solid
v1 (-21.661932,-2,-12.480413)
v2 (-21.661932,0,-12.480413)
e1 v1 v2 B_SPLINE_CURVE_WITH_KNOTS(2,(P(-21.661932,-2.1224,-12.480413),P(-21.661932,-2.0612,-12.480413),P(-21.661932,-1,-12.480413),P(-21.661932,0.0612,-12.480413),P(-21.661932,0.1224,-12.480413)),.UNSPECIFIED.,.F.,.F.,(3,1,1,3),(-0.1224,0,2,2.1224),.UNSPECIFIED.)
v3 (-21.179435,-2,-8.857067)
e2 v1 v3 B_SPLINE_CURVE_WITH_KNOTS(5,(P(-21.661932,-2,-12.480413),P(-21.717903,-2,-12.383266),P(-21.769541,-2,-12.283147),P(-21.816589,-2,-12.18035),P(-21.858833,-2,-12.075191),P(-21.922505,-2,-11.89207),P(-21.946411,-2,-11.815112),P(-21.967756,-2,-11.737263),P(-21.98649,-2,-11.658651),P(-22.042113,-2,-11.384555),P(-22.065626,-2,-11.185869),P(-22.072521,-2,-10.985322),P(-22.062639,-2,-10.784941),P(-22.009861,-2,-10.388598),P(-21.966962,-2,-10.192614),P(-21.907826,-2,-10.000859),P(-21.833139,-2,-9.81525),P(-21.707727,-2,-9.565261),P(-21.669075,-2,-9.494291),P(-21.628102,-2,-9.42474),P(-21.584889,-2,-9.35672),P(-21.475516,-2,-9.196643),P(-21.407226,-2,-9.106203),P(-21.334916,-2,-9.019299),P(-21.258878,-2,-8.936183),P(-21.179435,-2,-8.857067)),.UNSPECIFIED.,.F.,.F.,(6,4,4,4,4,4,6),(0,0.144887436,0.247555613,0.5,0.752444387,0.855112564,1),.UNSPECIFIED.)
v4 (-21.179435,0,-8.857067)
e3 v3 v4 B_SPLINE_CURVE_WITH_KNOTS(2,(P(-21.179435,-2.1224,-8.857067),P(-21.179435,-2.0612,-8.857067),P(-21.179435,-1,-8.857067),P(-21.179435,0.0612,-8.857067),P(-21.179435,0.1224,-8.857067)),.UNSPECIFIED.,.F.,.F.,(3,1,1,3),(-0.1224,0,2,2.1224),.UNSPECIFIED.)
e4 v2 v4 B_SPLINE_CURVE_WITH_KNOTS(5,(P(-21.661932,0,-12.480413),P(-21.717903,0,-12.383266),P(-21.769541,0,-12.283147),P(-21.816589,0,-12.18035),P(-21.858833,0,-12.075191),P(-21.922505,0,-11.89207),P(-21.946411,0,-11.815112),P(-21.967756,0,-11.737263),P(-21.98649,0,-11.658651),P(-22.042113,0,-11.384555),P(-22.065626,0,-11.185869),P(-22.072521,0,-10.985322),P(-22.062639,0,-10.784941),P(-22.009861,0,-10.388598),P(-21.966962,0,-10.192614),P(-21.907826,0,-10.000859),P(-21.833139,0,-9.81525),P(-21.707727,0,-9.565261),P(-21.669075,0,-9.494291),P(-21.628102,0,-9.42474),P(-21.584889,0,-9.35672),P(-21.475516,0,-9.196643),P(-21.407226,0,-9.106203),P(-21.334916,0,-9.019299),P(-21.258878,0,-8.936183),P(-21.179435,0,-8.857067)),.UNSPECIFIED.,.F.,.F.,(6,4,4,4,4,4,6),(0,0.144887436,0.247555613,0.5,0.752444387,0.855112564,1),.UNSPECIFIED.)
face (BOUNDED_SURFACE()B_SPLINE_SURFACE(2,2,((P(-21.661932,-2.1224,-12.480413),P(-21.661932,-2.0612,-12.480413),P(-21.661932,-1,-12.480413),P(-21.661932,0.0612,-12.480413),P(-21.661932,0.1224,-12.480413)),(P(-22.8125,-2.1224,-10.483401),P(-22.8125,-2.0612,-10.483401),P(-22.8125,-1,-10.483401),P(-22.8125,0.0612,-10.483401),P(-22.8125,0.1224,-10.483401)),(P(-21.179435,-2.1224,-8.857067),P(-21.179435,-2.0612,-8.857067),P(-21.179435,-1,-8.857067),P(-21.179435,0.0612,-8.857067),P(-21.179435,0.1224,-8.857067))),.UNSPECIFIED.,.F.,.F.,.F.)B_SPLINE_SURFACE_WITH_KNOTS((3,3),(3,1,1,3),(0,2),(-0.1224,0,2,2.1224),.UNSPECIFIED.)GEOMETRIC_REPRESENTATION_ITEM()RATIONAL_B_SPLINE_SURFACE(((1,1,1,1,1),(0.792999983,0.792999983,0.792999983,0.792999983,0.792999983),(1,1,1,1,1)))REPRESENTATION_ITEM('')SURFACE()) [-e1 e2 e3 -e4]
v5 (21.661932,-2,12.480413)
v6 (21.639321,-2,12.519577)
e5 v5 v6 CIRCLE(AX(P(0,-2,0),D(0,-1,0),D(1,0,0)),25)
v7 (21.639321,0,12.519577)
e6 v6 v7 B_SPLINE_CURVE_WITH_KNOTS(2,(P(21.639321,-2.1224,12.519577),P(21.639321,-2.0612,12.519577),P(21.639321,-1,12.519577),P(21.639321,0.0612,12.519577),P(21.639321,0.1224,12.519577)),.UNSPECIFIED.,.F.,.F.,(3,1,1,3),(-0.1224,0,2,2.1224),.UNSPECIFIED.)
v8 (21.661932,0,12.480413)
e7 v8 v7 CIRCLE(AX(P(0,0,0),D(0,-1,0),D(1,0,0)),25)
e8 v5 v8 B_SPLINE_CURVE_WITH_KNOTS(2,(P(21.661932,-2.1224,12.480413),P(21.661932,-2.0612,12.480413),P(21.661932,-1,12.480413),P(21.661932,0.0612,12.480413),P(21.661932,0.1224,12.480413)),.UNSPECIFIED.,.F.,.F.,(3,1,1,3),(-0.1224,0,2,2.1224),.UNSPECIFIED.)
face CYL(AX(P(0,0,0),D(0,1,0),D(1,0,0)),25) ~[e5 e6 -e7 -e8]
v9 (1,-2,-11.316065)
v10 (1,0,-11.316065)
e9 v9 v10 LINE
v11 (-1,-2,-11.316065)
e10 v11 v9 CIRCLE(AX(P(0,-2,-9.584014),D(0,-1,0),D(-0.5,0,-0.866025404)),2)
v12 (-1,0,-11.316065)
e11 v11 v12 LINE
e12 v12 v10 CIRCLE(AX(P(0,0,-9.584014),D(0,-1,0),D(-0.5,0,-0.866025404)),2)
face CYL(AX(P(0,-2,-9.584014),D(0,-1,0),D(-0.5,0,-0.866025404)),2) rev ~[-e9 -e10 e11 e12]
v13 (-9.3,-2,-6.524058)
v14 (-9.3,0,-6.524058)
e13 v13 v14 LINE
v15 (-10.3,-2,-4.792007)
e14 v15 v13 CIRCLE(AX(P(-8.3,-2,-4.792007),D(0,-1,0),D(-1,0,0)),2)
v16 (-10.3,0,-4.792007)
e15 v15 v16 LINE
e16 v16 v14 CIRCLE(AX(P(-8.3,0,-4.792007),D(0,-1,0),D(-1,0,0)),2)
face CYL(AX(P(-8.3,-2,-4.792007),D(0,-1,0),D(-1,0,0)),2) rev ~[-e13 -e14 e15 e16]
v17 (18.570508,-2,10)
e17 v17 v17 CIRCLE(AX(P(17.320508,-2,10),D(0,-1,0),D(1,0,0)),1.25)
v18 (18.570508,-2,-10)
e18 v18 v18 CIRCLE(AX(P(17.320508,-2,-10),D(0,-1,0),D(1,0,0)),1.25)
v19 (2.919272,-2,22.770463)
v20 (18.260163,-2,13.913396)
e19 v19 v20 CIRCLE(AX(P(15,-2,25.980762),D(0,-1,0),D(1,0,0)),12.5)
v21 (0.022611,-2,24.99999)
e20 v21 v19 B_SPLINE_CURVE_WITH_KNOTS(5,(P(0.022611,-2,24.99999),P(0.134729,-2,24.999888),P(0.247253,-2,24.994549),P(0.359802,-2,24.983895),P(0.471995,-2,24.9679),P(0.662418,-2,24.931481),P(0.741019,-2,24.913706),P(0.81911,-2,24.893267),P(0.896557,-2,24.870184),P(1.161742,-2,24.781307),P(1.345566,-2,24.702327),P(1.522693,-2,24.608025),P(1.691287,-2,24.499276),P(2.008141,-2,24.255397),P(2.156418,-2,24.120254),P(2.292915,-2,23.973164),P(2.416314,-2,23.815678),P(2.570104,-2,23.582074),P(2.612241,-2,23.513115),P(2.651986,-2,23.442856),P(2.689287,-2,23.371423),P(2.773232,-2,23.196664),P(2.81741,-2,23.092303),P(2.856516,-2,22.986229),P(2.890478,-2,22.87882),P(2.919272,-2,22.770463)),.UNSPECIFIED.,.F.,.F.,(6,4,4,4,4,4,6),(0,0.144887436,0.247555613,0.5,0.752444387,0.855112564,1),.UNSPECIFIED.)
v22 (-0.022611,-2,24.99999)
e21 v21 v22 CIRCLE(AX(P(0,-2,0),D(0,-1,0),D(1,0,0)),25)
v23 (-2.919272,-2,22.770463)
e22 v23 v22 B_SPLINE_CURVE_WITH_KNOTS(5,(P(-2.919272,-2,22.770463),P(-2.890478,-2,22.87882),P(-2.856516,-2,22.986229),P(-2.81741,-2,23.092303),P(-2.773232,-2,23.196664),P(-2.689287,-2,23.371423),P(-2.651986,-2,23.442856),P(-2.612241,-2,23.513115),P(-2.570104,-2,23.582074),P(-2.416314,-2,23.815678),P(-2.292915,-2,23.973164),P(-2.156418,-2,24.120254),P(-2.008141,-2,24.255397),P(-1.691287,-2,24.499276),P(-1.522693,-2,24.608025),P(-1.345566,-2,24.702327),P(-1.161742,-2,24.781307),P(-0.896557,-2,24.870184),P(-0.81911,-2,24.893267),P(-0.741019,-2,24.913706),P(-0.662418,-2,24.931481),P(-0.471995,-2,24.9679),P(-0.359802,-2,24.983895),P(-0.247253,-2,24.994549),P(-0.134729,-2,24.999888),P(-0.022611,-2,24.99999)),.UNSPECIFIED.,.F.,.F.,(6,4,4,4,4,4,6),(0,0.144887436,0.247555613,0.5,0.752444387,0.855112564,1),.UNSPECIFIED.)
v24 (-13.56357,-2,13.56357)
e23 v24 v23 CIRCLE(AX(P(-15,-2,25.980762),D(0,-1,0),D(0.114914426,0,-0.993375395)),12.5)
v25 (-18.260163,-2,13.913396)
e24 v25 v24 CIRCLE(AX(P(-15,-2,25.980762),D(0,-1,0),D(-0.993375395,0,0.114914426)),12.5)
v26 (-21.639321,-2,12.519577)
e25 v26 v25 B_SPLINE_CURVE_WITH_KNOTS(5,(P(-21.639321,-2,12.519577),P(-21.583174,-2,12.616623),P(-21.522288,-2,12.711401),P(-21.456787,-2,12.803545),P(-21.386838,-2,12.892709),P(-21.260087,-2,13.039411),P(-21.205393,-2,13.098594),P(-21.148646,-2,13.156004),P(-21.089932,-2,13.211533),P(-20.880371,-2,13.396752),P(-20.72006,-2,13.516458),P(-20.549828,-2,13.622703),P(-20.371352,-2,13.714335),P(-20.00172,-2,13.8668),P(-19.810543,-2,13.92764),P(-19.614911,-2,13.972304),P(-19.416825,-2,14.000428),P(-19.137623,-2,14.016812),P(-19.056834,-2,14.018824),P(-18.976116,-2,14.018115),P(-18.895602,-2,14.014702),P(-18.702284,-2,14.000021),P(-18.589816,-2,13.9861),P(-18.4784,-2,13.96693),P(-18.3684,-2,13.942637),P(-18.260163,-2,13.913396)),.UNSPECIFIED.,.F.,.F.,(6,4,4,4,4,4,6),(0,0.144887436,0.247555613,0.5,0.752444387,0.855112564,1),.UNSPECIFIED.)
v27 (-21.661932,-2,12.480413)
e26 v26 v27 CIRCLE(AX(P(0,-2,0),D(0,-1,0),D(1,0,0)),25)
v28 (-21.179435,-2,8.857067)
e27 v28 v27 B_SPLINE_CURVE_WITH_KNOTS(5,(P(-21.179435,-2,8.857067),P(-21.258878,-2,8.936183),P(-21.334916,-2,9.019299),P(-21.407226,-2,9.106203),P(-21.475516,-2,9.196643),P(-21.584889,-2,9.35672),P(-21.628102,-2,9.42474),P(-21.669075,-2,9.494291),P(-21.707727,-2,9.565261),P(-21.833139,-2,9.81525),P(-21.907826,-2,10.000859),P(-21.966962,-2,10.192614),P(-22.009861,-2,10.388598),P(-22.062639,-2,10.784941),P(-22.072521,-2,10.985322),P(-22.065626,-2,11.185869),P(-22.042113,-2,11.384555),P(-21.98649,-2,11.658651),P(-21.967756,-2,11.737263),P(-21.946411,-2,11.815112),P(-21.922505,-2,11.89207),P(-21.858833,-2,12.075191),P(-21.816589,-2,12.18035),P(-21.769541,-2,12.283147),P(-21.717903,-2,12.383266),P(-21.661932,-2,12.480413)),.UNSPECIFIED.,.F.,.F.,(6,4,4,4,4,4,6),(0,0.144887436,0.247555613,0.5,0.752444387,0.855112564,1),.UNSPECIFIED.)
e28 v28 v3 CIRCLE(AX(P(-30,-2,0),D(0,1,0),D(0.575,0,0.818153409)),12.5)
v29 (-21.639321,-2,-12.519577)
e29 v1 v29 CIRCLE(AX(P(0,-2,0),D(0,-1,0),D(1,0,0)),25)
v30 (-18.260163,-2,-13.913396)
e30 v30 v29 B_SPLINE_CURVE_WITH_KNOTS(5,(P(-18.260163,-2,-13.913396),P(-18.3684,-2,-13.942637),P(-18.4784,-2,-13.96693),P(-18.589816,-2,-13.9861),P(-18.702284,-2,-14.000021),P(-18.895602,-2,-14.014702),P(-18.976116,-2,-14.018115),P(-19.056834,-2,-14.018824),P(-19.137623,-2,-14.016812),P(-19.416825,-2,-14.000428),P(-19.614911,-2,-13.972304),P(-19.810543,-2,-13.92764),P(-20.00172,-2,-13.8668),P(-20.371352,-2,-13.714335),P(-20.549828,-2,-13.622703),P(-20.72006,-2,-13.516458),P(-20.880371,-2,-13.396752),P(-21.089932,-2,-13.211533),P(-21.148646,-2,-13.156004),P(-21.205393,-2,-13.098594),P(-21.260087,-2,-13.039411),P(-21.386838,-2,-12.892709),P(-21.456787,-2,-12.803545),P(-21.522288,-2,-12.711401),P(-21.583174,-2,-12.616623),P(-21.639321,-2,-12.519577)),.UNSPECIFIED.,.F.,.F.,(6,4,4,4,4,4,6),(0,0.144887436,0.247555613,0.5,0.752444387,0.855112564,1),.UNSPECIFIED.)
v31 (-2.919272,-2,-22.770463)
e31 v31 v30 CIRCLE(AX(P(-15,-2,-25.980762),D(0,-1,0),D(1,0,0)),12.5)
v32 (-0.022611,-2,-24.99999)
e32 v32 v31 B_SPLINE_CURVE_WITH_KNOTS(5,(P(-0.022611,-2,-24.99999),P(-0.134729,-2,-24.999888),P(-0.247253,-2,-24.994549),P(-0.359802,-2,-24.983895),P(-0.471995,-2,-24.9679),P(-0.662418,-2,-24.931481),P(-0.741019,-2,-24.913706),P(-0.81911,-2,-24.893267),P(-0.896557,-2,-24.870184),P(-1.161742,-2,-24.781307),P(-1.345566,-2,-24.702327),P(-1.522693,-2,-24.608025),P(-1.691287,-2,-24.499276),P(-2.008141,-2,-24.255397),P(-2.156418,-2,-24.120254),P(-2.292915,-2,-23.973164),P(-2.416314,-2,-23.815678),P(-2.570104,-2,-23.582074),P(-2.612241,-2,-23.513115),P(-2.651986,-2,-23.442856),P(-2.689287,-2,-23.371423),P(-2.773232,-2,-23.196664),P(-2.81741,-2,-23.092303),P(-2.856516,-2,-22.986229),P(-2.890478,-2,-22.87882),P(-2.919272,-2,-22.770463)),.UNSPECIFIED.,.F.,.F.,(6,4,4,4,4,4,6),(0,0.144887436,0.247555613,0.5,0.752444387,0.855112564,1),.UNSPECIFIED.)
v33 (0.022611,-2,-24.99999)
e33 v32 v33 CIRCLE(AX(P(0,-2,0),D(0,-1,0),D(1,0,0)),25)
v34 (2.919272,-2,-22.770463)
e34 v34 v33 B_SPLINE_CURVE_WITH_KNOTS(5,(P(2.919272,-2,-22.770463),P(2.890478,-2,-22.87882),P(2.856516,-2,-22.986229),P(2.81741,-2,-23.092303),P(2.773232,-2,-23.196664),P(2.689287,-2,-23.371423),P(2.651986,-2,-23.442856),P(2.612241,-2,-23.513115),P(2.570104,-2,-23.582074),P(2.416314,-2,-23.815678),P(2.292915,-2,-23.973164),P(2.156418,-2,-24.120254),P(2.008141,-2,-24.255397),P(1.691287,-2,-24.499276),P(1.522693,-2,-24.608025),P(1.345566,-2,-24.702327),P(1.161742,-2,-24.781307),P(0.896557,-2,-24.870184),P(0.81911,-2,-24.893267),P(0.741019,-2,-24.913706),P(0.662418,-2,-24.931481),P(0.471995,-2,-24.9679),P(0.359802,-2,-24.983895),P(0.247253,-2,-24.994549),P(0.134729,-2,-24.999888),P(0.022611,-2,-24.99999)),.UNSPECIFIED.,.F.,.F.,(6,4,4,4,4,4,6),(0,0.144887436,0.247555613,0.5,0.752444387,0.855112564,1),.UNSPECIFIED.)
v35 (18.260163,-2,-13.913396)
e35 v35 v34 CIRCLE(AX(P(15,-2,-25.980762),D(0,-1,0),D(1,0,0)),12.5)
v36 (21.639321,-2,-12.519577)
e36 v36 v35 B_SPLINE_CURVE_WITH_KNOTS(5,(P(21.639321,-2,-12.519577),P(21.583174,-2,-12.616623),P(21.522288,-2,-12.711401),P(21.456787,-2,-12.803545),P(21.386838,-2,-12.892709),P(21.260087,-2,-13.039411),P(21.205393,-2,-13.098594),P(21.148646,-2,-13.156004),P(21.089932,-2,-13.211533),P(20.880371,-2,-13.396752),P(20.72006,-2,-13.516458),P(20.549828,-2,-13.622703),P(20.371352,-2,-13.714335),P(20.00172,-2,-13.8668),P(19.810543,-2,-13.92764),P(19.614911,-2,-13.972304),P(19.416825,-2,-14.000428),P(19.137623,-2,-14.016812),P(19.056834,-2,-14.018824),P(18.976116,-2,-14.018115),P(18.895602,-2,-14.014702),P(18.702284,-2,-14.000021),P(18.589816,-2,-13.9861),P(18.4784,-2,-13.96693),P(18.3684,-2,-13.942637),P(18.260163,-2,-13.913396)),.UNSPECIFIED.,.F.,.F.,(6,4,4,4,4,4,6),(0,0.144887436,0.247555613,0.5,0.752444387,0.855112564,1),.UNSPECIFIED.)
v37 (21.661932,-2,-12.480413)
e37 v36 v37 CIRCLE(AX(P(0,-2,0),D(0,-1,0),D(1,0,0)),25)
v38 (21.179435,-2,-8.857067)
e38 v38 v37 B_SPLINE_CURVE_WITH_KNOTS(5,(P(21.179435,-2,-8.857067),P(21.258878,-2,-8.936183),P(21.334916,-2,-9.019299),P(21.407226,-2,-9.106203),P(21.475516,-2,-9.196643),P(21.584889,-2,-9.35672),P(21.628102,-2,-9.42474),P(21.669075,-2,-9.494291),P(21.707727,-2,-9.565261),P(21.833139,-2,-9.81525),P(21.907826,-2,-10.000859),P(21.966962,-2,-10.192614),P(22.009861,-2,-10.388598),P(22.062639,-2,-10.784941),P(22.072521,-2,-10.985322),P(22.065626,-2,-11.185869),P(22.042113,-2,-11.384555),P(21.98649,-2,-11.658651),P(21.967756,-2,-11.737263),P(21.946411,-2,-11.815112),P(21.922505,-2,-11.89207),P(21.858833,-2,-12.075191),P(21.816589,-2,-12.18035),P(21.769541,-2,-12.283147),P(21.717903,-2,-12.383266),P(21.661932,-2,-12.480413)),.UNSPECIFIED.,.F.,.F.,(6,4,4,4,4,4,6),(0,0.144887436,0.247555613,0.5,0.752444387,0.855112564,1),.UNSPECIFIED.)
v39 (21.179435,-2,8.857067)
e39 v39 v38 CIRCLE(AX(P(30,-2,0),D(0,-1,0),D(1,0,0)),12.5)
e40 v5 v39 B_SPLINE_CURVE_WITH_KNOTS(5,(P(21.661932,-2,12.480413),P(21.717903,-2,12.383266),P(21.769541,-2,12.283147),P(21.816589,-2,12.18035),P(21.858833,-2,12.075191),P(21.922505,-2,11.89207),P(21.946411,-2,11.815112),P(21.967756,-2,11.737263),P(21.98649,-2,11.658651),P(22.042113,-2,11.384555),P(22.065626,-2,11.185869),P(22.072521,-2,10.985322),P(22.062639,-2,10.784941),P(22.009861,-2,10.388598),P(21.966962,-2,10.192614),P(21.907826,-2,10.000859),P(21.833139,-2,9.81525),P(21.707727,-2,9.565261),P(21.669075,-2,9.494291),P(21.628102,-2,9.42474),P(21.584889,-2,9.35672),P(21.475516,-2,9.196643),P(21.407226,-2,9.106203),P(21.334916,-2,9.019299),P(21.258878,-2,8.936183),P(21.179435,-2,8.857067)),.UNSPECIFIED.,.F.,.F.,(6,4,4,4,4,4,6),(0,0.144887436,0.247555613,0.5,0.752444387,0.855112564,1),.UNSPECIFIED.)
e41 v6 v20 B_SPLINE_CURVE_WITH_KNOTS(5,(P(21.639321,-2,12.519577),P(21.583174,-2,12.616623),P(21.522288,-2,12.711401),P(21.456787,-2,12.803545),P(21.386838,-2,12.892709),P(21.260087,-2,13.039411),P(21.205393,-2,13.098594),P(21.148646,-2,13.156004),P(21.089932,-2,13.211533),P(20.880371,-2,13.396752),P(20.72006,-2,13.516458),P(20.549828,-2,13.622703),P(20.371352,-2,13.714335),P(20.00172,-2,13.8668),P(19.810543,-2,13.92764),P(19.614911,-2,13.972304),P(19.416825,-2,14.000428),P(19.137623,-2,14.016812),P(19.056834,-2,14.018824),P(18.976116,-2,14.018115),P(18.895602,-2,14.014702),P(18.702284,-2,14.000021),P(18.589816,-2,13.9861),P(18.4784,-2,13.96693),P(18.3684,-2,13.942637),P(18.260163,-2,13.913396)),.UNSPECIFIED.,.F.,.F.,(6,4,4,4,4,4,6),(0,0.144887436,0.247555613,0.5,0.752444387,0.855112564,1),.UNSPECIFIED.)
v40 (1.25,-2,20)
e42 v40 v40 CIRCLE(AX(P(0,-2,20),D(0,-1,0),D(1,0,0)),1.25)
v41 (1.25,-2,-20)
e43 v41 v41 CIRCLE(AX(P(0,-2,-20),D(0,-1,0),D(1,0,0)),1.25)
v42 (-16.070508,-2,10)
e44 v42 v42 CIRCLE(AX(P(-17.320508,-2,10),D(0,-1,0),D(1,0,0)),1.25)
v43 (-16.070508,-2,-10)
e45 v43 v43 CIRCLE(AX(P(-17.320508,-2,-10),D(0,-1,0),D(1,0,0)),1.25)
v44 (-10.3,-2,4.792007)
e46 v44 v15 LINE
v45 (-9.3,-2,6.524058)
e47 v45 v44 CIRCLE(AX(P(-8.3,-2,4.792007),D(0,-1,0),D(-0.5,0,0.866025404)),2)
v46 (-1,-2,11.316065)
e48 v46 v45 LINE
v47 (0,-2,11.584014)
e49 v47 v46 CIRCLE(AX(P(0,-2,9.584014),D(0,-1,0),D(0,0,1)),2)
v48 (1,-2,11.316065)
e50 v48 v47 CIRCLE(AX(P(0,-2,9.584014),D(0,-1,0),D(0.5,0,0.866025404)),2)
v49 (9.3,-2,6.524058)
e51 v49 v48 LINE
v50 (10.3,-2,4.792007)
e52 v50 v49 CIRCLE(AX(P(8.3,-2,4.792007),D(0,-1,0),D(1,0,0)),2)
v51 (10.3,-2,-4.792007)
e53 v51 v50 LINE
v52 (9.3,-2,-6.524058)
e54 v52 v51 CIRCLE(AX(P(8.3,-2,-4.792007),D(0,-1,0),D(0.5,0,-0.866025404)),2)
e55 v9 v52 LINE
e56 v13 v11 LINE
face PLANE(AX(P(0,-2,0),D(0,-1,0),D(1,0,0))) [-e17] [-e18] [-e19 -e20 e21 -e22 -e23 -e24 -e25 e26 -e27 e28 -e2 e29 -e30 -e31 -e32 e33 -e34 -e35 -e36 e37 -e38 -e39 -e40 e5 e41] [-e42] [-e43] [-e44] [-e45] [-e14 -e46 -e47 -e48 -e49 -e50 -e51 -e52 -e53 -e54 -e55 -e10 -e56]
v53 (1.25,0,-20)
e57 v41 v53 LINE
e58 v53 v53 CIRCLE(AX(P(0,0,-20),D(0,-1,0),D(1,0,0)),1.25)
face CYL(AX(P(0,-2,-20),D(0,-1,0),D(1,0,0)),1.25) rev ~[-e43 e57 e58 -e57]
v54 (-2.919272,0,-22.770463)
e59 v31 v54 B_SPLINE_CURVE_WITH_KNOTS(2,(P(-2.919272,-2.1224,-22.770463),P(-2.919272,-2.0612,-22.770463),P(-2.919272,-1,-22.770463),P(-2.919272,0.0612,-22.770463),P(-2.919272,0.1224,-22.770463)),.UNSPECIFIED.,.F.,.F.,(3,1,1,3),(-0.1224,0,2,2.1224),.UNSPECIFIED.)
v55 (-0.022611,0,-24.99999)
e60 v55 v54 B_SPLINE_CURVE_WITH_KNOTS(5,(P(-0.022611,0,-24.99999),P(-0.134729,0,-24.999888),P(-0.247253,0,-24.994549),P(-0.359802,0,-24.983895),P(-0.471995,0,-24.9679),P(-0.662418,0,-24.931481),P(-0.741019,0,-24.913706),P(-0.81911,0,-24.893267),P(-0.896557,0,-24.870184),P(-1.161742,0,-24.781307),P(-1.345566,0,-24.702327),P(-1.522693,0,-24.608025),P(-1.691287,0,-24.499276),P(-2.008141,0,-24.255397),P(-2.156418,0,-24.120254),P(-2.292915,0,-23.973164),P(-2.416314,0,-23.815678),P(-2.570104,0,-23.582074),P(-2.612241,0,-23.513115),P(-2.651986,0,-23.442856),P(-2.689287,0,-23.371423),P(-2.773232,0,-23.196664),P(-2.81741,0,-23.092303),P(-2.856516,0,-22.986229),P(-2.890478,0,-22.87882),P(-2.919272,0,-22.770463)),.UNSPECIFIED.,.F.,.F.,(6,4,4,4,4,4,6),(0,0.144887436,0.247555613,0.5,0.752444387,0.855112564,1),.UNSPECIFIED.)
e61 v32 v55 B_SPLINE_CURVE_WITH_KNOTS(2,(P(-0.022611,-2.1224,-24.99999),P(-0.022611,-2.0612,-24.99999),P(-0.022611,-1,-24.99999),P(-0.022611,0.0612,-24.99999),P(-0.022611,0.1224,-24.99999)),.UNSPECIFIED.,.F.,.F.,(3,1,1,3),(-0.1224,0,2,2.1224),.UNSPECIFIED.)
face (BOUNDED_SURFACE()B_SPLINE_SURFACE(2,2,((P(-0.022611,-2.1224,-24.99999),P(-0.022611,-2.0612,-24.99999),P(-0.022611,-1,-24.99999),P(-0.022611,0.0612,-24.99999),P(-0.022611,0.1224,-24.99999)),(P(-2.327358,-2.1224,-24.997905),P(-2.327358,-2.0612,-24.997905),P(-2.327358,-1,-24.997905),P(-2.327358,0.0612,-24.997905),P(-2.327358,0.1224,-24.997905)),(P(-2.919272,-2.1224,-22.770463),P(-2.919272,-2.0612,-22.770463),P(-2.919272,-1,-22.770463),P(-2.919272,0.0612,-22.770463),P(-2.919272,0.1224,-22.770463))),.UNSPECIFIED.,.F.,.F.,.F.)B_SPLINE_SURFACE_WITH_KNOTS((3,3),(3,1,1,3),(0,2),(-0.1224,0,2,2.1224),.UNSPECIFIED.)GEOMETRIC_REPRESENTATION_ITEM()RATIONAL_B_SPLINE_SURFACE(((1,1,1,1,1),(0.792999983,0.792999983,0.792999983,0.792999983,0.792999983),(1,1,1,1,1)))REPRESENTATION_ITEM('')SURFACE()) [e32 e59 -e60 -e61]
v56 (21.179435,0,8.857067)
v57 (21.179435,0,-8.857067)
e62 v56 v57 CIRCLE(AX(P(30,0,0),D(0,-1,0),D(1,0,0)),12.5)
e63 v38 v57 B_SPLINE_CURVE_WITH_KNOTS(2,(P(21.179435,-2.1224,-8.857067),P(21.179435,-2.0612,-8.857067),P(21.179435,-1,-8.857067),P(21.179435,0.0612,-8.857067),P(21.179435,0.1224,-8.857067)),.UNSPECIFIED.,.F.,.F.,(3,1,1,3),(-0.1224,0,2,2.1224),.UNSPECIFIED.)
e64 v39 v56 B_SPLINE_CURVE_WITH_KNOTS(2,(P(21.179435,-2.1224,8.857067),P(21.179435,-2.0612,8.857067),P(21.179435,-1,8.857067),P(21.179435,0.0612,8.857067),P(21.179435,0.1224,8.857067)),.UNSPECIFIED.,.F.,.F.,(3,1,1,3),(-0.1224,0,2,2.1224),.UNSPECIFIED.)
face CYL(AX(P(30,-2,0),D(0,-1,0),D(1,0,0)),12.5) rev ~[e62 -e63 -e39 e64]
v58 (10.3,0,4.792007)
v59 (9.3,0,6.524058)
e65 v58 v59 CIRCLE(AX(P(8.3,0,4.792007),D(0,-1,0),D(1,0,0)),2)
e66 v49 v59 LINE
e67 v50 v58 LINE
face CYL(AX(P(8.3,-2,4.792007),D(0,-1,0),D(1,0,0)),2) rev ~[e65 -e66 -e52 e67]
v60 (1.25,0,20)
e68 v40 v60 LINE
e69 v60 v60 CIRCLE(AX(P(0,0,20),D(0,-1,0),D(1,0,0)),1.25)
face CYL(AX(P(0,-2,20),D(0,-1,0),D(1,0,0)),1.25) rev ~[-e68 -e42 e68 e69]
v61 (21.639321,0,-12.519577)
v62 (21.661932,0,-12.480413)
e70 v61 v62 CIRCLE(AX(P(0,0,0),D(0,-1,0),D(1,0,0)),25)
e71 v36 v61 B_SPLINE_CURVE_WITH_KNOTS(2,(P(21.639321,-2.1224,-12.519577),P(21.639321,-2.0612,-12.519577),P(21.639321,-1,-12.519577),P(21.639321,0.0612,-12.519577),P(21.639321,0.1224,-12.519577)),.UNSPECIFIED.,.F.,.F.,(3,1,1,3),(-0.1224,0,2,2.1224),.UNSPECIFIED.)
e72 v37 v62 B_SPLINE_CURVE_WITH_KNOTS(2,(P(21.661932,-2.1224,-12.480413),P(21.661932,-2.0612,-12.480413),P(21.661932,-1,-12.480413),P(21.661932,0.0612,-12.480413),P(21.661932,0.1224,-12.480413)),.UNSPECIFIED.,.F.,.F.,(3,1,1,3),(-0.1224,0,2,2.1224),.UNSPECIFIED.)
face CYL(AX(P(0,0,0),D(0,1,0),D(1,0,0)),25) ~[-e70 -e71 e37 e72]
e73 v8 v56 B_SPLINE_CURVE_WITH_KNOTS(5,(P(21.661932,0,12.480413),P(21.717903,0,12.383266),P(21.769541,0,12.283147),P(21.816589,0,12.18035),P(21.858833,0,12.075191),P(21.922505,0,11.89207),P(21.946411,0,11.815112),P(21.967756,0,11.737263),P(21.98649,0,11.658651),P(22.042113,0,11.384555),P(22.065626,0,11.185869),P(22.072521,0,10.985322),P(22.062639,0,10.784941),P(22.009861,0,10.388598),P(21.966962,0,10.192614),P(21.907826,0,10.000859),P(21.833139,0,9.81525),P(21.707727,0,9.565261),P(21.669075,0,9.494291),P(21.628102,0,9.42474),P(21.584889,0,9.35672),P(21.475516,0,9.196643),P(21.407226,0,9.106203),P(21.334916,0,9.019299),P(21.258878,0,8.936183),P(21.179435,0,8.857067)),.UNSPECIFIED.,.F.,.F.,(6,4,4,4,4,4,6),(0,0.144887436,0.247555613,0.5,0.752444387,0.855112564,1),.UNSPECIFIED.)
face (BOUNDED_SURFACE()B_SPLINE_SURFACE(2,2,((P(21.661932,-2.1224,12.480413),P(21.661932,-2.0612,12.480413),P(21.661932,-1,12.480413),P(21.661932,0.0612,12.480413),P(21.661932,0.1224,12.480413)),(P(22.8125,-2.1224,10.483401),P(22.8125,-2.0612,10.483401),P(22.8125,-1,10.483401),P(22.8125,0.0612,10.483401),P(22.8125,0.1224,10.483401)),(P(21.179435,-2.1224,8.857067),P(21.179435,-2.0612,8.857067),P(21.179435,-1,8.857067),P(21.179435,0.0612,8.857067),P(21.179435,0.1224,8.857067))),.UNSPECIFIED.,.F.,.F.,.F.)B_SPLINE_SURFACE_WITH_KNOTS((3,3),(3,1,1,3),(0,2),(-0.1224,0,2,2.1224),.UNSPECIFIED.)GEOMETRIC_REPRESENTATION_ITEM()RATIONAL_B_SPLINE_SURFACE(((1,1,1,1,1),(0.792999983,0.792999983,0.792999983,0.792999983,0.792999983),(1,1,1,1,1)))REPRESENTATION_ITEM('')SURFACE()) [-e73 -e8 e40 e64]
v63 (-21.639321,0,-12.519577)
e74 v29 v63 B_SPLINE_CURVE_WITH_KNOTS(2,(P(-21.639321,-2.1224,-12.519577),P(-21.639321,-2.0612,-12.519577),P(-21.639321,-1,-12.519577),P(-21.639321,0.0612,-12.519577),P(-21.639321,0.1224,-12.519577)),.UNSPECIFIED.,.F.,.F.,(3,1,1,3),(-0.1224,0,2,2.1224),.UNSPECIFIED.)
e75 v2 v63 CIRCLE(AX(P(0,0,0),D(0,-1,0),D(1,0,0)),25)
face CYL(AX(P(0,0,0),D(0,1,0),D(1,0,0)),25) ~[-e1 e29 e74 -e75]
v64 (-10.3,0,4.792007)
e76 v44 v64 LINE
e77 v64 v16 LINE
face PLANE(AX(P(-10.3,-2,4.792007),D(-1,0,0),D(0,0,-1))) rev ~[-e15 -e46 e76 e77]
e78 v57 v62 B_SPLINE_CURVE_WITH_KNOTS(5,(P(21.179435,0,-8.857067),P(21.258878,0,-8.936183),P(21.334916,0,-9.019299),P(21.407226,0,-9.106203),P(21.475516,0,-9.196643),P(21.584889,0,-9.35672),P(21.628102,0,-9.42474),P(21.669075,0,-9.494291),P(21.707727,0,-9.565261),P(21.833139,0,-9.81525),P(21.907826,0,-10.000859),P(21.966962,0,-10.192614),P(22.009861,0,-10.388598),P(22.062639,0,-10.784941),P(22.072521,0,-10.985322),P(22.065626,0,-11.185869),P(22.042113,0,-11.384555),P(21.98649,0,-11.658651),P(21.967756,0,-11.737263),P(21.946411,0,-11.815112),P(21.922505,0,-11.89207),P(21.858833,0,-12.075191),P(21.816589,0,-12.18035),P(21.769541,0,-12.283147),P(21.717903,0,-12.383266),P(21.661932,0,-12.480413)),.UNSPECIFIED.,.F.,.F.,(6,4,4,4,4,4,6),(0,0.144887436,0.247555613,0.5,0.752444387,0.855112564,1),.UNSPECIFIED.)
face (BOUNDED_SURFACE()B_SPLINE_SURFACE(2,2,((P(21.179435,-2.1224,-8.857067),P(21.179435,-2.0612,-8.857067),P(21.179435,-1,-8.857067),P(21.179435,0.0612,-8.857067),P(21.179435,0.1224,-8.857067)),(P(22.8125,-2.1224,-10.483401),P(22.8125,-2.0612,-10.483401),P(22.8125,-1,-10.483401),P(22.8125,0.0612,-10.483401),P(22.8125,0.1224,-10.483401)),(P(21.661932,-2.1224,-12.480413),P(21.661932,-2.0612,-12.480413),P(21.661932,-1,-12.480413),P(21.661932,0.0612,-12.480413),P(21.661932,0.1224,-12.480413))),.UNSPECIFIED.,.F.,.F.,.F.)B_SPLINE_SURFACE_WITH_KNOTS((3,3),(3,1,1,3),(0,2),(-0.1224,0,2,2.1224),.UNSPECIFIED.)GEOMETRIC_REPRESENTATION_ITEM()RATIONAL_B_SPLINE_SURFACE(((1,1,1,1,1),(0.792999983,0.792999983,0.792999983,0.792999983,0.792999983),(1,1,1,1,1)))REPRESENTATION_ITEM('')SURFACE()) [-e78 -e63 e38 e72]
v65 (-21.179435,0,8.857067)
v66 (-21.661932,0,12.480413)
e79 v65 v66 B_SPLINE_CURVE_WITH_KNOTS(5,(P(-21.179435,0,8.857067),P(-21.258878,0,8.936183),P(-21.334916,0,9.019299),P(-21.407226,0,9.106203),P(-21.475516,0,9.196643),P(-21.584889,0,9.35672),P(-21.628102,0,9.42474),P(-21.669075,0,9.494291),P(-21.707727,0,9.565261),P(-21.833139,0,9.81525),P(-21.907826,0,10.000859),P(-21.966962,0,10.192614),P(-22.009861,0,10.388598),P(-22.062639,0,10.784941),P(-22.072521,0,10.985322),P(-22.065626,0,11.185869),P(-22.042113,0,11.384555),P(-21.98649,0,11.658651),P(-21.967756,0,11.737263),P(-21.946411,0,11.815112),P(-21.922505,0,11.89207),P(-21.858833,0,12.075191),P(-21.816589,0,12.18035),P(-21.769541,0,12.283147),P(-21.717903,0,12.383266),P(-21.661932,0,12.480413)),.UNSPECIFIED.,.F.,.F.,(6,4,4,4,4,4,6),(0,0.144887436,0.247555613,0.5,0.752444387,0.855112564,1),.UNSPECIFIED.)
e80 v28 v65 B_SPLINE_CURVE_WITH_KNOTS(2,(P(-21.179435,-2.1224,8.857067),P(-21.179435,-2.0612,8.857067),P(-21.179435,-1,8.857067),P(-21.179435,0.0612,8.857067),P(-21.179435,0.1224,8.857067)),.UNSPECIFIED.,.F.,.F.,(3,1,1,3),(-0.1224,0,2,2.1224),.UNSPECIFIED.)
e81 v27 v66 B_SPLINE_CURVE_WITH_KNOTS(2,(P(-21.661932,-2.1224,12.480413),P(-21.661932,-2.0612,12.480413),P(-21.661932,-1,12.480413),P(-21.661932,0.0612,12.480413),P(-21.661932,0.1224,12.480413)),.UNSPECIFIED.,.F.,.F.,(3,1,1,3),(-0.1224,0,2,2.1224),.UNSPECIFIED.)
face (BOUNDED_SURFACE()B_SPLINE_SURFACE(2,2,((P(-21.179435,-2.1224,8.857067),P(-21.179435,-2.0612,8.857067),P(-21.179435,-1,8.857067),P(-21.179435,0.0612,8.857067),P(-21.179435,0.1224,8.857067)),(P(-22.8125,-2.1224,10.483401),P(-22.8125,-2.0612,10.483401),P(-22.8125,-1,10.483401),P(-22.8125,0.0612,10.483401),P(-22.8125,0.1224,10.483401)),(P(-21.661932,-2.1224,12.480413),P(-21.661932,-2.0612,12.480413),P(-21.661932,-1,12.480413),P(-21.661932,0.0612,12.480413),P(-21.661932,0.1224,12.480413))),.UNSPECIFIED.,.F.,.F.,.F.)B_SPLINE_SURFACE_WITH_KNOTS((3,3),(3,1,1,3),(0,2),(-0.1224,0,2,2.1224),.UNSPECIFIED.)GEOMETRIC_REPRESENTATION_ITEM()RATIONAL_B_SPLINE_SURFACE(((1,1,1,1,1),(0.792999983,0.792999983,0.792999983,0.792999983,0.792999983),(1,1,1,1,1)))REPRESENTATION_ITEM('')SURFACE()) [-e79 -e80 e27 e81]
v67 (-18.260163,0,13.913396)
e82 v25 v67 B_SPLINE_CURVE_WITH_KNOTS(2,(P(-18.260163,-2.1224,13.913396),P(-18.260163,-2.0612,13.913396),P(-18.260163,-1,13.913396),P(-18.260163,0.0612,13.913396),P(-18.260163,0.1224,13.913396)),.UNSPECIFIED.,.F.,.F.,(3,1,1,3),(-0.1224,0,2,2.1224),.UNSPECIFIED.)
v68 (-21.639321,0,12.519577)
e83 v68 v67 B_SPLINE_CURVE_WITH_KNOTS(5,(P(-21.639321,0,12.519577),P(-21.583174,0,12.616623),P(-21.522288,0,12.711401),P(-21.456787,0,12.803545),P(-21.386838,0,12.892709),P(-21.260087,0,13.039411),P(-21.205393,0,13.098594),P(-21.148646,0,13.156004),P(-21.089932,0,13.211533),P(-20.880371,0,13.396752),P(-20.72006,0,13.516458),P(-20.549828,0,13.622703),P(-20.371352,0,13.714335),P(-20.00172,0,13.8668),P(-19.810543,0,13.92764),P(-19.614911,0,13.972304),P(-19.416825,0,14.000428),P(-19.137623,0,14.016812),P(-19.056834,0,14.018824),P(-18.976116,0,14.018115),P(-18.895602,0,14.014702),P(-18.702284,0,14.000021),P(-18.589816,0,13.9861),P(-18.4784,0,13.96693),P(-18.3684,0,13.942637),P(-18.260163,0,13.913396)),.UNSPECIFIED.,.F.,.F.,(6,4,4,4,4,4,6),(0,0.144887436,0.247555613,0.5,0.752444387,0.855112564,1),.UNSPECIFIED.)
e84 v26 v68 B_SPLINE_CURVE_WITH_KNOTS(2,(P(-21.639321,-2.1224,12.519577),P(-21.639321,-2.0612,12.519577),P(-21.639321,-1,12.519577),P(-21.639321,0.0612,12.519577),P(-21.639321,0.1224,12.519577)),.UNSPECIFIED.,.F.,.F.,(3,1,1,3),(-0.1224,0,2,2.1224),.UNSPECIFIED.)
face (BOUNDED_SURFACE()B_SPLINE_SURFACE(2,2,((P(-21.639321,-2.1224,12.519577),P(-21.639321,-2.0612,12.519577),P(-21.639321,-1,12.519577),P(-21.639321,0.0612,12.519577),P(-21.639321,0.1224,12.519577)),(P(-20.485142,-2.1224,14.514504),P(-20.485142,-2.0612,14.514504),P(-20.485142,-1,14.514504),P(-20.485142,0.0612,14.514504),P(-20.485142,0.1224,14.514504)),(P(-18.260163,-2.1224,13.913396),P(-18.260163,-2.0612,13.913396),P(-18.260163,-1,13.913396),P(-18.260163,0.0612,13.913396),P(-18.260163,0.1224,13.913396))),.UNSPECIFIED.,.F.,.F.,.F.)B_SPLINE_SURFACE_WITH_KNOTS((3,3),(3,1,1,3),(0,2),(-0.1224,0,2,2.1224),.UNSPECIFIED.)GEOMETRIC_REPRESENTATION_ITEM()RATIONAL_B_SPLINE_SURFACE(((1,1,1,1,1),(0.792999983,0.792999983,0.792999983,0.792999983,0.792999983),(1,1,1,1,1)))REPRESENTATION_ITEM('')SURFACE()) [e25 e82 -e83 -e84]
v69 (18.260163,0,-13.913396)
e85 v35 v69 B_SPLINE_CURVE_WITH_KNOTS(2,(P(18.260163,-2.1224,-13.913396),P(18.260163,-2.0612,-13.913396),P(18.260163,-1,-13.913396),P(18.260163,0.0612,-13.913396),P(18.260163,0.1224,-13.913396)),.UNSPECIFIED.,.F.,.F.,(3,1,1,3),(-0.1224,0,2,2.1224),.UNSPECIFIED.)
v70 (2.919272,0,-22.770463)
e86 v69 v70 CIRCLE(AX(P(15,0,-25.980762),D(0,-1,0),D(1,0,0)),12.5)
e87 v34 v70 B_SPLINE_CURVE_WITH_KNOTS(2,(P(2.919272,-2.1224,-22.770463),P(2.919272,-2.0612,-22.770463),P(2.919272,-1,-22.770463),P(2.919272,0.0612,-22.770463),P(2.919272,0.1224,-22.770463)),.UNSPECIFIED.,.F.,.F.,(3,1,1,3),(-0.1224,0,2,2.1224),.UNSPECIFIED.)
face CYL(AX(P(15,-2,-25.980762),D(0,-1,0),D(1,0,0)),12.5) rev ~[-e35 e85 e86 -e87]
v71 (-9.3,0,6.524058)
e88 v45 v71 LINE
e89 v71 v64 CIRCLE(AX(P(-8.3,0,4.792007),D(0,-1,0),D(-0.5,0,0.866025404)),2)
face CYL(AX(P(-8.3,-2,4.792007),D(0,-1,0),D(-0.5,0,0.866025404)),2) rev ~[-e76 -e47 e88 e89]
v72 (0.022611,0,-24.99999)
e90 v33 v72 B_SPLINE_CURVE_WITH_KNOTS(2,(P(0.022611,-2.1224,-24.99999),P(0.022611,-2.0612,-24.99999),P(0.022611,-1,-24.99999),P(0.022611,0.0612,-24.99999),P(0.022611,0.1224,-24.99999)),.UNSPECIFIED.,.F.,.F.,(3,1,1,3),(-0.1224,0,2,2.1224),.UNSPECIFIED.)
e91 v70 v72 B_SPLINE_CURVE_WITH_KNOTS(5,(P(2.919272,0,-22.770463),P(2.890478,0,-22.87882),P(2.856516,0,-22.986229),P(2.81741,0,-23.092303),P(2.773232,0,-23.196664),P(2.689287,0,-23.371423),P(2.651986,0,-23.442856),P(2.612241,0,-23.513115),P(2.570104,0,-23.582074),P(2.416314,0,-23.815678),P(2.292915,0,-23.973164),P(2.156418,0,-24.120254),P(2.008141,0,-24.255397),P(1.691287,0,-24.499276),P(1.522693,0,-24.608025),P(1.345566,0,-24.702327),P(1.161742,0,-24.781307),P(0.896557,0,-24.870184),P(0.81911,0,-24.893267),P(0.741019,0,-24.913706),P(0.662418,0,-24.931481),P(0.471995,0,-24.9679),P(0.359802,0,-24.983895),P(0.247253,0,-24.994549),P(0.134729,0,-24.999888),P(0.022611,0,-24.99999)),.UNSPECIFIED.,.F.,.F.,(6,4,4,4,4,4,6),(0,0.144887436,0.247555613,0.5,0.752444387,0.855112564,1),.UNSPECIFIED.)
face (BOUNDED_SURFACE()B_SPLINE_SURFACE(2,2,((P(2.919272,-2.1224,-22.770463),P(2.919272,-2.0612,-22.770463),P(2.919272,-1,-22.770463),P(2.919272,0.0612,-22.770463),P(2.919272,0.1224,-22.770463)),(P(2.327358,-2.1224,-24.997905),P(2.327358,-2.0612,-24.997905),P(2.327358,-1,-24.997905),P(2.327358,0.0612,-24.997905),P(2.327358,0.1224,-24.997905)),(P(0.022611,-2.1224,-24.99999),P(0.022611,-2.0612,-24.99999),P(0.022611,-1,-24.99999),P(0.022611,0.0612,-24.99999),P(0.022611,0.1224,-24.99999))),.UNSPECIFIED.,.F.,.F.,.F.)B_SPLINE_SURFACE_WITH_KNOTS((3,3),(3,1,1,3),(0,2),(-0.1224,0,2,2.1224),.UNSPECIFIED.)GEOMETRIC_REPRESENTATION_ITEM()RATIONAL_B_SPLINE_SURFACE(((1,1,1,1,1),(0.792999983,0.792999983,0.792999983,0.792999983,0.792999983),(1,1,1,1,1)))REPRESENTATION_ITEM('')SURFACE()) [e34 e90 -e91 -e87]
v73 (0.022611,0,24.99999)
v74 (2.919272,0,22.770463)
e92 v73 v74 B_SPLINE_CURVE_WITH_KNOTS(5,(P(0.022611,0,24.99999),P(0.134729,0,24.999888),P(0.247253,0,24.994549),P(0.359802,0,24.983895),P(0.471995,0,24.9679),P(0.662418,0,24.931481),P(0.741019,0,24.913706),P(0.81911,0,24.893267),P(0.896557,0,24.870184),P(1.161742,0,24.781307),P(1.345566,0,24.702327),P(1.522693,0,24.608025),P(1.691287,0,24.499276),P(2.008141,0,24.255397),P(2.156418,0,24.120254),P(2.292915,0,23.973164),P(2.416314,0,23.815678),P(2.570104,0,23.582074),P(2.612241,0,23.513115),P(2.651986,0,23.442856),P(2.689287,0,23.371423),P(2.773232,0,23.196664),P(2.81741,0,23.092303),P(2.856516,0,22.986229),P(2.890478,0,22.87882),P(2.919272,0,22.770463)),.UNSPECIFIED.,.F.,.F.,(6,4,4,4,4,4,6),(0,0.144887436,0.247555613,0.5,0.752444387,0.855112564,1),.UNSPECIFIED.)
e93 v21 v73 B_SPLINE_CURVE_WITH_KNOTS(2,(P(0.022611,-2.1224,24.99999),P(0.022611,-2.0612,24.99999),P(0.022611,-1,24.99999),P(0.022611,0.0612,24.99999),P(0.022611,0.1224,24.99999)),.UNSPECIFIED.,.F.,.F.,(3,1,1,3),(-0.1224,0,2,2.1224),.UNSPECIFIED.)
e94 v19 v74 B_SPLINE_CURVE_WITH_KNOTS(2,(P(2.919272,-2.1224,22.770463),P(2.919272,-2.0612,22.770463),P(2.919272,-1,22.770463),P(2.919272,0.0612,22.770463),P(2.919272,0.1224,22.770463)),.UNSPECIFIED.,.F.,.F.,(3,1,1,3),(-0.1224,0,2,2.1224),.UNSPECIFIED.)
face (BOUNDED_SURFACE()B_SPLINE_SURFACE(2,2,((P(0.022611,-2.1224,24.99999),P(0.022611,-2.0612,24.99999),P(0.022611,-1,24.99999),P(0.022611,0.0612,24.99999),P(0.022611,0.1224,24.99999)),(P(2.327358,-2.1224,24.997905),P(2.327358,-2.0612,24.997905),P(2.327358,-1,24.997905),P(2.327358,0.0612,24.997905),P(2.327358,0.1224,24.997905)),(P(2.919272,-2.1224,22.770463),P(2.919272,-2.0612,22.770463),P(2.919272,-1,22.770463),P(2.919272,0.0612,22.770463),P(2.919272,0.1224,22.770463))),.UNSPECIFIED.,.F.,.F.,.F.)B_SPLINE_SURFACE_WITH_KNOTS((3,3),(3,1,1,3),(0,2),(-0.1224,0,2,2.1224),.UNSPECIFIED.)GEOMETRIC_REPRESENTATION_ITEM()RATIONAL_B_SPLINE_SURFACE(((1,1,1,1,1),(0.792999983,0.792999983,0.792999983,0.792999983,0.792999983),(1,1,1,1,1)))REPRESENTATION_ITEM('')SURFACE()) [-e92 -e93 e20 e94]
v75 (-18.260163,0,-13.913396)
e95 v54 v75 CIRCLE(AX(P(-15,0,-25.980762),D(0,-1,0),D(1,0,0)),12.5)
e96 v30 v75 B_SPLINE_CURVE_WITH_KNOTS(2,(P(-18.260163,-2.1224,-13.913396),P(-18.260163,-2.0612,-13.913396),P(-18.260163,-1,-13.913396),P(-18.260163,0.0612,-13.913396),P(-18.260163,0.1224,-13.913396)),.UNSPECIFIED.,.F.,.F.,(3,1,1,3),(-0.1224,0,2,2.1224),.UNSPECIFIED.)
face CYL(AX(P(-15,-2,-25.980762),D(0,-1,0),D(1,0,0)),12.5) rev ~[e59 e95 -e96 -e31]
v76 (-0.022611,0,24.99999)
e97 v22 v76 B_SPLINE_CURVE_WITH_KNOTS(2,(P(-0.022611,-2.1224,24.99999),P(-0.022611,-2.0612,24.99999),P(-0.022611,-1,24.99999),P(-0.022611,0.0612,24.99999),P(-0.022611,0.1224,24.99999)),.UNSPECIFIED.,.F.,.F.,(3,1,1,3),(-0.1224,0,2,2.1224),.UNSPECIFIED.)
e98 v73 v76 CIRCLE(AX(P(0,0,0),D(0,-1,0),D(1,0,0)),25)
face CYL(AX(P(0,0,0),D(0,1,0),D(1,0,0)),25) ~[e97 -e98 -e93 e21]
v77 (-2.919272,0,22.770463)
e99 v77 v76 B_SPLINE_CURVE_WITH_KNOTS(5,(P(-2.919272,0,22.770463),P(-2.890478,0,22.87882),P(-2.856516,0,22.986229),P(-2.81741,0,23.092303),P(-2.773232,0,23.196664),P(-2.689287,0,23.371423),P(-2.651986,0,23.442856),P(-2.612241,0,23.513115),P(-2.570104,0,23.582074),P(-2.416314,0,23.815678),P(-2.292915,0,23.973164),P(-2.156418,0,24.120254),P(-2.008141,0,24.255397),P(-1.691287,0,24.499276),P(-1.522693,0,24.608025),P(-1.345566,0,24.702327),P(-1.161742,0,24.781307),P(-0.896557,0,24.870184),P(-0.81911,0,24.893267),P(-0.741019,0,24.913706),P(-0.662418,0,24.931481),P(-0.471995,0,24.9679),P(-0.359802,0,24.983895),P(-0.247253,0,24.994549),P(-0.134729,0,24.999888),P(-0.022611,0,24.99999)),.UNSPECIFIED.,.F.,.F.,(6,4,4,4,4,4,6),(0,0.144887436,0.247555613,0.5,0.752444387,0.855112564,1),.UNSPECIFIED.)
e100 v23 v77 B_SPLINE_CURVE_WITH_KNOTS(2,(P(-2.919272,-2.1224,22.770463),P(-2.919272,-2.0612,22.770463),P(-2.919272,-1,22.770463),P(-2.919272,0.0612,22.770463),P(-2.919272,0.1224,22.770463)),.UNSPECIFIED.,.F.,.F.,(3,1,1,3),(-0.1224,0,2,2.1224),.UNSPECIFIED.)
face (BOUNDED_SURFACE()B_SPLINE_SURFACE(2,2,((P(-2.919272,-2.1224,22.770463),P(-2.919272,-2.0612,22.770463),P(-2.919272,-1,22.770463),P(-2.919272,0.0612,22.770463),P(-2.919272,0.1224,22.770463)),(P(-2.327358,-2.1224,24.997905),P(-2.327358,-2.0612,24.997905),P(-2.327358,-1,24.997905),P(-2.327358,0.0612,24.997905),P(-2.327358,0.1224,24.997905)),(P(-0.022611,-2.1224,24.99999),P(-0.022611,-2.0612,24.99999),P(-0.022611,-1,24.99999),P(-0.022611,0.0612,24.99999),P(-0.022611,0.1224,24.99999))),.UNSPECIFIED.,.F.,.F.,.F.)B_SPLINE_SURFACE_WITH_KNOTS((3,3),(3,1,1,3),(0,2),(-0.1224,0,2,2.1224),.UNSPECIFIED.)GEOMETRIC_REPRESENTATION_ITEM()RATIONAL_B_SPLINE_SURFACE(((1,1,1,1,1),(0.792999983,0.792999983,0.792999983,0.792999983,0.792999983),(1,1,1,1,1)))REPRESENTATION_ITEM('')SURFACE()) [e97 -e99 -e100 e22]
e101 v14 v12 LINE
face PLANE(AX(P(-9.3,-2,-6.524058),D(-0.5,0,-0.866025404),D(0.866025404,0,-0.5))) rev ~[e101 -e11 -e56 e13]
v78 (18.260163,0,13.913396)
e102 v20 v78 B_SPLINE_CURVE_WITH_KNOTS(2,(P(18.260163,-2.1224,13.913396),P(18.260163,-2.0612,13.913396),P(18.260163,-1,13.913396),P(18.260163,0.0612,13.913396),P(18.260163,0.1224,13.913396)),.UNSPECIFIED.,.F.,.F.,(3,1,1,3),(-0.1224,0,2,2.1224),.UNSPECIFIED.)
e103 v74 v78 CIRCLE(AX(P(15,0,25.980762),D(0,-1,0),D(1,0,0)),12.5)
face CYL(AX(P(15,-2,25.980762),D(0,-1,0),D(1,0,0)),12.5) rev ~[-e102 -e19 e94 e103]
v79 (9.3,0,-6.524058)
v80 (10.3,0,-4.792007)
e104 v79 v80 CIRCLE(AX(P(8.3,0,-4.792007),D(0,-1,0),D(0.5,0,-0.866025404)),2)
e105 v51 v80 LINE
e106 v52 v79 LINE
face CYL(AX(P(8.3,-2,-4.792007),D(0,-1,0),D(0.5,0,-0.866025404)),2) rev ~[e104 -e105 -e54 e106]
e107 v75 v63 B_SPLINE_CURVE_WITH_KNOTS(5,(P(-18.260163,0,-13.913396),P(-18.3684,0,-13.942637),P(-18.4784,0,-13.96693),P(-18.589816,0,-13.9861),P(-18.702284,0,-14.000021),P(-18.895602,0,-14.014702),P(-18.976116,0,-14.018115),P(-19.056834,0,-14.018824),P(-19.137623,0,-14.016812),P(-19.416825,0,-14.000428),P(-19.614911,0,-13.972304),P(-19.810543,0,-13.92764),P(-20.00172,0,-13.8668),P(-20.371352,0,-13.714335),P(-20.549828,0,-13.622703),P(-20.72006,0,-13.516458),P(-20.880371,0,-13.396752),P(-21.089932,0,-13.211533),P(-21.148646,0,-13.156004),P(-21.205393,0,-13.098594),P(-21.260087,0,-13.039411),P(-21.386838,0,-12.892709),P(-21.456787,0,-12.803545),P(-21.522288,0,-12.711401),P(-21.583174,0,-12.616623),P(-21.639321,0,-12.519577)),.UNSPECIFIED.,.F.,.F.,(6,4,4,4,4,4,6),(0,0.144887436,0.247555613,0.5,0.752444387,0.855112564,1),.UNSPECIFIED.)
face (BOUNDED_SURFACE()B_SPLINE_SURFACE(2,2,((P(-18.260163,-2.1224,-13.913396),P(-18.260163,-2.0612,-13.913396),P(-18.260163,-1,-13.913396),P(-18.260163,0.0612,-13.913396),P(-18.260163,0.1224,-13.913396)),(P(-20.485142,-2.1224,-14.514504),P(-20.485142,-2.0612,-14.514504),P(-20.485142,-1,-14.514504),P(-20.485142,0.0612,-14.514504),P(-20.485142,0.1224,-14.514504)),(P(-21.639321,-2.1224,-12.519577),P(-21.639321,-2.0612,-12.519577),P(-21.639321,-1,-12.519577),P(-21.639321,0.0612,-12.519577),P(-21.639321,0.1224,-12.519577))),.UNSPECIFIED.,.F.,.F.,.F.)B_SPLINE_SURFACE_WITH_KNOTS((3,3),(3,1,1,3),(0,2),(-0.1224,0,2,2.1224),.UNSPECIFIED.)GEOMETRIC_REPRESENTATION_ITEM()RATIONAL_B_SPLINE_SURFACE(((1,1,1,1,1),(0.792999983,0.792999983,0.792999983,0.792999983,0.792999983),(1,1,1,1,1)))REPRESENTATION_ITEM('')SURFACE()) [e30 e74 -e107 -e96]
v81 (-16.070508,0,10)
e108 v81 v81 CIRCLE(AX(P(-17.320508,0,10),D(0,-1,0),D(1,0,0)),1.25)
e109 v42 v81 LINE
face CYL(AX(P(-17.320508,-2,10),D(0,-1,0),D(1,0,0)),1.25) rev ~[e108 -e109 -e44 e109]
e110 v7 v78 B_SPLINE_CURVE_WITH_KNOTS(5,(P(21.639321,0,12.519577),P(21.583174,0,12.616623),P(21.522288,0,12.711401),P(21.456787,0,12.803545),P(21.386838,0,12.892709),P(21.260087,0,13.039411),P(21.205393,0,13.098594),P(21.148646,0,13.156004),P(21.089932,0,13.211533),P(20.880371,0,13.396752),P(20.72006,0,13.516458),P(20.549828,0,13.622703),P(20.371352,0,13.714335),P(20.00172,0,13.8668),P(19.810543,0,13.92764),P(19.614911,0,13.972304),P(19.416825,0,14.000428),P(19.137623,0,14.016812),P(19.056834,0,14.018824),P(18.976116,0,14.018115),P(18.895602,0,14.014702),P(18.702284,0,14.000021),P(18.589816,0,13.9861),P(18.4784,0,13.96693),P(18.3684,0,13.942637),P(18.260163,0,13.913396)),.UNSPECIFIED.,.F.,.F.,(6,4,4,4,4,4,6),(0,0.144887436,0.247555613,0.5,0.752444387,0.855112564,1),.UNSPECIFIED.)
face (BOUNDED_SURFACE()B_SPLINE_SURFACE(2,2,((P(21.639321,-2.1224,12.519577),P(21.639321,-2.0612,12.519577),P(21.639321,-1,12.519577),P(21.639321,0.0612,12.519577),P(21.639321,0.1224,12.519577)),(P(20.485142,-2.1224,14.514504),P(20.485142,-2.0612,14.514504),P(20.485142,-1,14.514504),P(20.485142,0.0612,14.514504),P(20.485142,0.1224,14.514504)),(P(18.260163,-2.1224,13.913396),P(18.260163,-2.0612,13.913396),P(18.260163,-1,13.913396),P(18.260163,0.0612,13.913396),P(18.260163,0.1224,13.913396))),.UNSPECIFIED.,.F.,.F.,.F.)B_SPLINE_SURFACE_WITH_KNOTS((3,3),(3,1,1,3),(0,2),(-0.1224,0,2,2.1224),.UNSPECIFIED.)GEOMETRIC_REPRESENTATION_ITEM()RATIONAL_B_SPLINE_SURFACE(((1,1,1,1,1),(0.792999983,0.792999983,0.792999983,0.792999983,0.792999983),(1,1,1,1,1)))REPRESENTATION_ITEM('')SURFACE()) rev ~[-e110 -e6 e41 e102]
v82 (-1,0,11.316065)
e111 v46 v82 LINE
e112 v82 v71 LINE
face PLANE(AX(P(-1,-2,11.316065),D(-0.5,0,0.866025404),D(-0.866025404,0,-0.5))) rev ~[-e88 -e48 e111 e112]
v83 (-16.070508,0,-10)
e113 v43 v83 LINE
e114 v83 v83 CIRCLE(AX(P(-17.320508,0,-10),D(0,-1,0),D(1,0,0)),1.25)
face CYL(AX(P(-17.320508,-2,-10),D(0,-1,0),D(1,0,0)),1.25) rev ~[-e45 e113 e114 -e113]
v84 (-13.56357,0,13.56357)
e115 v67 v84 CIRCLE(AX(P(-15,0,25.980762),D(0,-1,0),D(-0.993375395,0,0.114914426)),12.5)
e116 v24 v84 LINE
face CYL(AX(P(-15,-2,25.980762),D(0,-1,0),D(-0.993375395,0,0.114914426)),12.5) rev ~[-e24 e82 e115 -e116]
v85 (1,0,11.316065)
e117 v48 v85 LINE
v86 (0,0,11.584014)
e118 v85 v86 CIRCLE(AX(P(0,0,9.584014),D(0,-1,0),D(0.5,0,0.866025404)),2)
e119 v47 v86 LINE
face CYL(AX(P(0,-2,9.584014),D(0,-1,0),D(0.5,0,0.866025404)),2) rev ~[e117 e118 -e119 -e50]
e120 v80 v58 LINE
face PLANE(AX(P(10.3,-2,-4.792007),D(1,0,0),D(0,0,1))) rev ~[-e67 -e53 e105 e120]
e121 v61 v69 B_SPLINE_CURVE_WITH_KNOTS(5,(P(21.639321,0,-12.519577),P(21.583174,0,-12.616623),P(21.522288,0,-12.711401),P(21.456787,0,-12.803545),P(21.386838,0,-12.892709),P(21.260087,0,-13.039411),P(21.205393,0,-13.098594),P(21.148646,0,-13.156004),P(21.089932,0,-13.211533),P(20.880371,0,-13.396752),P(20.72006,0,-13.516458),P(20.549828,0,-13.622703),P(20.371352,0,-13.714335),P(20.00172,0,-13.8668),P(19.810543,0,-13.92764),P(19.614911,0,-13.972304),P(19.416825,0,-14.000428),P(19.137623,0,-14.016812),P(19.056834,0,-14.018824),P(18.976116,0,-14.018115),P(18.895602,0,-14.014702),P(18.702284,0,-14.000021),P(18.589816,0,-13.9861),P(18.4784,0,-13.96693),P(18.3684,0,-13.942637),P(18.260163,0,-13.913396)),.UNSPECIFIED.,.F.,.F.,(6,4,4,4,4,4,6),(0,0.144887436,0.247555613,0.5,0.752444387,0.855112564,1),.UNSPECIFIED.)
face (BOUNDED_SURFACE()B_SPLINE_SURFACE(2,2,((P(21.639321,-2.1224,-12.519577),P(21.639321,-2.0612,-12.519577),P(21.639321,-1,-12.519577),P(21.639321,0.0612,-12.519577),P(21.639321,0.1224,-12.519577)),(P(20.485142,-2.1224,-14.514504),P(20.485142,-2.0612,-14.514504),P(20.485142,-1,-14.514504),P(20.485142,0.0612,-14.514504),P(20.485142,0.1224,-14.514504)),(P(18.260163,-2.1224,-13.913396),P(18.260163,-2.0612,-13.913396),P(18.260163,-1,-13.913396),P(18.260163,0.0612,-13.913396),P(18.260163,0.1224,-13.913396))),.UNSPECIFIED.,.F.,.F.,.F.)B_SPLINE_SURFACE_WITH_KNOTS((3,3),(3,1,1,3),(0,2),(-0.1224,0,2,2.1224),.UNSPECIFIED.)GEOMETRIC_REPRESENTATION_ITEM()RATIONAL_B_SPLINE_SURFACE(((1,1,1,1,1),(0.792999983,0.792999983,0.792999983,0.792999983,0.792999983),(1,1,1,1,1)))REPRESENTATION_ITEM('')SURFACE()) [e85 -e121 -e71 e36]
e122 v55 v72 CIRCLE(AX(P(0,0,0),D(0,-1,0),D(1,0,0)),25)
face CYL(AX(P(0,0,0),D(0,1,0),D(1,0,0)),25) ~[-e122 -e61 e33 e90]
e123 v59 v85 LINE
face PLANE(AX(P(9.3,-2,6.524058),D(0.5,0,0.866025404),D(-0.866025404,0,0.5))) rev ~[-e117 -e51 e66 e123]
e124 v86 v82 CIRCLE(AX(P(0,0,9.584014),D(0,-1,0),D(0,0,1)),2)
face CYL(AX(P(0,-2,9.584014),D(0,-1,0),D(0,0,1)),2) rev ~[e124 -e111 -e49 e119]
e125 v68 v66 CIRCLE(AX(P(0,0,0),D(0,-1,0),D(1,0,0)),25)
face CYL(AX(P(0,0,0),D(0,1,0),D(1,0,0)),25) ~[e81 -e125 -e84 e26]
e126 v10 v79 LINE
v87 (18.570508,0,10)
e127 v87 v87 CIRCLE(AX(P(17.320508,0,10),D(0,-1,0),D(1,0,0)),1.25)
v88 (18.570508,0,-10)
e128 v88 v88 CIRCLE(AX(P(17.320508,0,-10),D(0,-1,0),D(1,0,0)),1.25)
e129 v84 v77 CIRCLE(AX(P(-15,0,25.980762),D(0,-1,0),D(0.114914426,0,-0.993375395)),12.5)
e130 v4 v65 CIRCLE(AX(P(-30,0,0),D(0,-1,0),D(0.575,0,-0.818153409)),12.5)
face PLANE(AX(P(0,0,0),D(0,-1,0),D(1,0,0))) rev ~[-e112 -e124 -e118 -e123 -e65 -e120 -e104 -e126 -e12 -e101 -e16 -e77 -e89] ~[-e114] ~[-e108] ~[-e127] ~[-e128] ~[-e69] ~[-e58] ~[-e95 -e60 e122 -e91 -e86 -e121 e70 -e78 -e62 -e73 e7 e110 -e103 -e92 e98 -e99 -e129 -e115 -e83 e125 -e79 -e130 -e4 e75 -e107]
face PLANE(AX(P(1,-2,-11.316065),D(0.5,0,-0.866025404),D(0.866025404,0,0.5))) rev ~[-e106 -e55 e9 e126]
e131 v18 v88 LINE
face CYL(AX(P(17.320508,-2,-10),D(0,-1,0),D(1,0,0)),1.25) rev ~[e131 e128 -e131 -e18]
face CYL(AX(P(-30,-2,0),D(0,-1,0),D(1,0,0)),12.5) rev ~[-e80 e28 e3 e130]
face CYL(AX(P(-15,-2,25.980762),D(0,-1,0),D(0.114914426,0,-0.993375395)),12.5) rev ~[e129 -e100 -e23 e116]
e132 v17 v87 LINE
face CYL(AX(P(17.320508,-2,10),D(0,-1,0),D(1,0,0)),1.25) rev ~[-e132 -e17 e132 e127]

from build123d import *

# Parameters (mm, degrees)
F0_R     = 25
F1_DEPTH = 2
F3_DEPTH = 2.001
F4_R     = 1.25
F5_DEPTH = 2.001
F6_R     = 12.5
F7_DEPTH = 2.001
F8_R     = 3


with BuildPart() as f1:
    # F0 (on Front) → F1 (new body)
    with BuildSketch(Plane.XZ):
        Circle(F0_R)
    extrude(amount=F1_DEPTH)

    # F2 (on face) → F3 (cut, through all)
    with BuildSketch(Plane.XZ.offset(2)):
        with BuildLine():
            Line((-1, 11.3160652761), (-9.3, 6.5240580418))
            ThreePointArc((-9.3, 6.5240580418), (-10.0320508076, 5.7920072343), (-10.3, 4.7920072343))
            Line((-10.3, 4.7920072343), (-10.3, -4.7920072343))
            ThreePointArc((-10.3, -4.7920072343), (-10.0320508076, -5.7920072343), (-9.3, -6.5240580418))
            Line((-9.3, -6.5240580418), (-1, -11.3160652761))
            ThreePointArc((-1, -11.3160652761), (0, -11.5840144685), (1, -11.3160652761))
            Line((1, -11.3160652761), (9.3, -6.5240580418))
            ThreePointArc((9.3, -6.5240580418), (10.0320508076, -5.7920072343), (10.3, -4.7920072343))
            Line((10.3, -4.7920072343), (10.3, 0.3542550839))
            Line((10.3, 0.3542550839), (0, 0.3542550839))
            Line((0, 0.3542550839), (0, 11.5840144685))
            ThreePointArc((0, 11.5840144685), (-0.5176380902, 11.5158661211), (-1, 11.3160652761))
        make_face()
        with BuildLine():
            ThreePointArc((1, 11.3160652761), (0.5176380902, 11.5158661211), (0, 11.5840144685))
            Line((0, 11.5840144685), (0, 0.3542550839))
            Line((0, 0.3542550839), (10.3, 0.3542550839))
            Line((10.3, 0.3542550839), (10.3, 4.7920072343))
            ThreePointArc((10.3, 4.7920072343), (10.0320508076, 5.7920072343), (9.3, 6.5240580418))
            Line((9.3, 6.5240580418), (1, 11.3160652761))
        make_face()
    extrude(amount=-F3_DEPTH, mode=Mode.SUBTRACT)

    # F4 (on face) → F5 (cut, through all)
    with BuildSketch(Plane.XZ.offset(2)):
        with Locations((0, 20)):
            Circle(F4_R)
        with Locations((-17.3205080757, 10)):
            Circle(F4_R)
        with Locations((-17.3205080757, -10)):
            Circle(F4_R)
        with Locations((0, -20)):
            Circle(F4_R)
        with Locations((17.3205080757, -10)):
            Circle(F4_R)
        with Locations((17.3205080757, 10)):
            Circle(F4_R)
    extrude(amount=-F5_DEPTH, mode=Mode.SUBTRACT)

    # F6 (on face) → F7 (cut, through all)
    with BuildSketch(Plane.XZ.offset(2)):
        with BuildLine():
            ThreePointArc((17.5, 0), (30, -12.5), (42.5, 0))
            ThreePointArc((42.5, 0), (30, 12.5), (17.5, 0))
        make_face()
        with BuildLine():
            ThreePointArc((-27.4171924337, 27.4171924337), (-23.8388347648, 17.1419273487), (-13.5635696798, 13.5635696798))
            Line((-13.5635696798, 13.5635696798), (-27.4171924337, 27.4171924337))
        make_face()
        with BuildLine():
            Line((-27.4171924337, 27.4171924337), (-13.5635696798, 13.5635696798))
            ThreePointArc((-13.5635696798, 13.5635696798), (-5.6671178353, 17.6652759282), (-2.5, 25.9807621135))
            ThreePointArc((-2.5, 25.9807621135), (-14.2805924038, 38.4600430508), (-27.4171924337, 27.4171924337))
        make_face()
        with Locations((15, 25.9807621135)):
            Circle(F6_R)
        with Locations((-30, 0)):
            Circle(F6_R)
        with Locations((-15, -25.9807621135)):
            Circle(F6_R)
        with Locations((15, -25.9807621135)):
            Circle(F6_R)
    extrude(amount=-F7_DEPTH, mode=Mode.SUBTRACT)

    # F8
    f8_edges = [f1.edges().sort_by_distance(p)[0] for p in [
        (22.8125, -1, 10.226918),
        (22.8125, -1, -10.226918),
        (20.26302, -1, 14.642746),
        (2.54948, -1, 24.869663),
        (20.26302, -1, -14.642746),
        (2.54948, -1, -24.869663),
        (-2.54948, -1, -24.869663),
        (-20.26302, -1, -14.642746),
        (-22.8125, -1, -10.226918),
        (-22.8125, -1, 10.226918),
        (-20.26302, -1, 14.642746),
        (-2.54948, -1, 24.869663),
    ]]
    fillet(f8_edges, radius=F8_R)


solid = f1.part
